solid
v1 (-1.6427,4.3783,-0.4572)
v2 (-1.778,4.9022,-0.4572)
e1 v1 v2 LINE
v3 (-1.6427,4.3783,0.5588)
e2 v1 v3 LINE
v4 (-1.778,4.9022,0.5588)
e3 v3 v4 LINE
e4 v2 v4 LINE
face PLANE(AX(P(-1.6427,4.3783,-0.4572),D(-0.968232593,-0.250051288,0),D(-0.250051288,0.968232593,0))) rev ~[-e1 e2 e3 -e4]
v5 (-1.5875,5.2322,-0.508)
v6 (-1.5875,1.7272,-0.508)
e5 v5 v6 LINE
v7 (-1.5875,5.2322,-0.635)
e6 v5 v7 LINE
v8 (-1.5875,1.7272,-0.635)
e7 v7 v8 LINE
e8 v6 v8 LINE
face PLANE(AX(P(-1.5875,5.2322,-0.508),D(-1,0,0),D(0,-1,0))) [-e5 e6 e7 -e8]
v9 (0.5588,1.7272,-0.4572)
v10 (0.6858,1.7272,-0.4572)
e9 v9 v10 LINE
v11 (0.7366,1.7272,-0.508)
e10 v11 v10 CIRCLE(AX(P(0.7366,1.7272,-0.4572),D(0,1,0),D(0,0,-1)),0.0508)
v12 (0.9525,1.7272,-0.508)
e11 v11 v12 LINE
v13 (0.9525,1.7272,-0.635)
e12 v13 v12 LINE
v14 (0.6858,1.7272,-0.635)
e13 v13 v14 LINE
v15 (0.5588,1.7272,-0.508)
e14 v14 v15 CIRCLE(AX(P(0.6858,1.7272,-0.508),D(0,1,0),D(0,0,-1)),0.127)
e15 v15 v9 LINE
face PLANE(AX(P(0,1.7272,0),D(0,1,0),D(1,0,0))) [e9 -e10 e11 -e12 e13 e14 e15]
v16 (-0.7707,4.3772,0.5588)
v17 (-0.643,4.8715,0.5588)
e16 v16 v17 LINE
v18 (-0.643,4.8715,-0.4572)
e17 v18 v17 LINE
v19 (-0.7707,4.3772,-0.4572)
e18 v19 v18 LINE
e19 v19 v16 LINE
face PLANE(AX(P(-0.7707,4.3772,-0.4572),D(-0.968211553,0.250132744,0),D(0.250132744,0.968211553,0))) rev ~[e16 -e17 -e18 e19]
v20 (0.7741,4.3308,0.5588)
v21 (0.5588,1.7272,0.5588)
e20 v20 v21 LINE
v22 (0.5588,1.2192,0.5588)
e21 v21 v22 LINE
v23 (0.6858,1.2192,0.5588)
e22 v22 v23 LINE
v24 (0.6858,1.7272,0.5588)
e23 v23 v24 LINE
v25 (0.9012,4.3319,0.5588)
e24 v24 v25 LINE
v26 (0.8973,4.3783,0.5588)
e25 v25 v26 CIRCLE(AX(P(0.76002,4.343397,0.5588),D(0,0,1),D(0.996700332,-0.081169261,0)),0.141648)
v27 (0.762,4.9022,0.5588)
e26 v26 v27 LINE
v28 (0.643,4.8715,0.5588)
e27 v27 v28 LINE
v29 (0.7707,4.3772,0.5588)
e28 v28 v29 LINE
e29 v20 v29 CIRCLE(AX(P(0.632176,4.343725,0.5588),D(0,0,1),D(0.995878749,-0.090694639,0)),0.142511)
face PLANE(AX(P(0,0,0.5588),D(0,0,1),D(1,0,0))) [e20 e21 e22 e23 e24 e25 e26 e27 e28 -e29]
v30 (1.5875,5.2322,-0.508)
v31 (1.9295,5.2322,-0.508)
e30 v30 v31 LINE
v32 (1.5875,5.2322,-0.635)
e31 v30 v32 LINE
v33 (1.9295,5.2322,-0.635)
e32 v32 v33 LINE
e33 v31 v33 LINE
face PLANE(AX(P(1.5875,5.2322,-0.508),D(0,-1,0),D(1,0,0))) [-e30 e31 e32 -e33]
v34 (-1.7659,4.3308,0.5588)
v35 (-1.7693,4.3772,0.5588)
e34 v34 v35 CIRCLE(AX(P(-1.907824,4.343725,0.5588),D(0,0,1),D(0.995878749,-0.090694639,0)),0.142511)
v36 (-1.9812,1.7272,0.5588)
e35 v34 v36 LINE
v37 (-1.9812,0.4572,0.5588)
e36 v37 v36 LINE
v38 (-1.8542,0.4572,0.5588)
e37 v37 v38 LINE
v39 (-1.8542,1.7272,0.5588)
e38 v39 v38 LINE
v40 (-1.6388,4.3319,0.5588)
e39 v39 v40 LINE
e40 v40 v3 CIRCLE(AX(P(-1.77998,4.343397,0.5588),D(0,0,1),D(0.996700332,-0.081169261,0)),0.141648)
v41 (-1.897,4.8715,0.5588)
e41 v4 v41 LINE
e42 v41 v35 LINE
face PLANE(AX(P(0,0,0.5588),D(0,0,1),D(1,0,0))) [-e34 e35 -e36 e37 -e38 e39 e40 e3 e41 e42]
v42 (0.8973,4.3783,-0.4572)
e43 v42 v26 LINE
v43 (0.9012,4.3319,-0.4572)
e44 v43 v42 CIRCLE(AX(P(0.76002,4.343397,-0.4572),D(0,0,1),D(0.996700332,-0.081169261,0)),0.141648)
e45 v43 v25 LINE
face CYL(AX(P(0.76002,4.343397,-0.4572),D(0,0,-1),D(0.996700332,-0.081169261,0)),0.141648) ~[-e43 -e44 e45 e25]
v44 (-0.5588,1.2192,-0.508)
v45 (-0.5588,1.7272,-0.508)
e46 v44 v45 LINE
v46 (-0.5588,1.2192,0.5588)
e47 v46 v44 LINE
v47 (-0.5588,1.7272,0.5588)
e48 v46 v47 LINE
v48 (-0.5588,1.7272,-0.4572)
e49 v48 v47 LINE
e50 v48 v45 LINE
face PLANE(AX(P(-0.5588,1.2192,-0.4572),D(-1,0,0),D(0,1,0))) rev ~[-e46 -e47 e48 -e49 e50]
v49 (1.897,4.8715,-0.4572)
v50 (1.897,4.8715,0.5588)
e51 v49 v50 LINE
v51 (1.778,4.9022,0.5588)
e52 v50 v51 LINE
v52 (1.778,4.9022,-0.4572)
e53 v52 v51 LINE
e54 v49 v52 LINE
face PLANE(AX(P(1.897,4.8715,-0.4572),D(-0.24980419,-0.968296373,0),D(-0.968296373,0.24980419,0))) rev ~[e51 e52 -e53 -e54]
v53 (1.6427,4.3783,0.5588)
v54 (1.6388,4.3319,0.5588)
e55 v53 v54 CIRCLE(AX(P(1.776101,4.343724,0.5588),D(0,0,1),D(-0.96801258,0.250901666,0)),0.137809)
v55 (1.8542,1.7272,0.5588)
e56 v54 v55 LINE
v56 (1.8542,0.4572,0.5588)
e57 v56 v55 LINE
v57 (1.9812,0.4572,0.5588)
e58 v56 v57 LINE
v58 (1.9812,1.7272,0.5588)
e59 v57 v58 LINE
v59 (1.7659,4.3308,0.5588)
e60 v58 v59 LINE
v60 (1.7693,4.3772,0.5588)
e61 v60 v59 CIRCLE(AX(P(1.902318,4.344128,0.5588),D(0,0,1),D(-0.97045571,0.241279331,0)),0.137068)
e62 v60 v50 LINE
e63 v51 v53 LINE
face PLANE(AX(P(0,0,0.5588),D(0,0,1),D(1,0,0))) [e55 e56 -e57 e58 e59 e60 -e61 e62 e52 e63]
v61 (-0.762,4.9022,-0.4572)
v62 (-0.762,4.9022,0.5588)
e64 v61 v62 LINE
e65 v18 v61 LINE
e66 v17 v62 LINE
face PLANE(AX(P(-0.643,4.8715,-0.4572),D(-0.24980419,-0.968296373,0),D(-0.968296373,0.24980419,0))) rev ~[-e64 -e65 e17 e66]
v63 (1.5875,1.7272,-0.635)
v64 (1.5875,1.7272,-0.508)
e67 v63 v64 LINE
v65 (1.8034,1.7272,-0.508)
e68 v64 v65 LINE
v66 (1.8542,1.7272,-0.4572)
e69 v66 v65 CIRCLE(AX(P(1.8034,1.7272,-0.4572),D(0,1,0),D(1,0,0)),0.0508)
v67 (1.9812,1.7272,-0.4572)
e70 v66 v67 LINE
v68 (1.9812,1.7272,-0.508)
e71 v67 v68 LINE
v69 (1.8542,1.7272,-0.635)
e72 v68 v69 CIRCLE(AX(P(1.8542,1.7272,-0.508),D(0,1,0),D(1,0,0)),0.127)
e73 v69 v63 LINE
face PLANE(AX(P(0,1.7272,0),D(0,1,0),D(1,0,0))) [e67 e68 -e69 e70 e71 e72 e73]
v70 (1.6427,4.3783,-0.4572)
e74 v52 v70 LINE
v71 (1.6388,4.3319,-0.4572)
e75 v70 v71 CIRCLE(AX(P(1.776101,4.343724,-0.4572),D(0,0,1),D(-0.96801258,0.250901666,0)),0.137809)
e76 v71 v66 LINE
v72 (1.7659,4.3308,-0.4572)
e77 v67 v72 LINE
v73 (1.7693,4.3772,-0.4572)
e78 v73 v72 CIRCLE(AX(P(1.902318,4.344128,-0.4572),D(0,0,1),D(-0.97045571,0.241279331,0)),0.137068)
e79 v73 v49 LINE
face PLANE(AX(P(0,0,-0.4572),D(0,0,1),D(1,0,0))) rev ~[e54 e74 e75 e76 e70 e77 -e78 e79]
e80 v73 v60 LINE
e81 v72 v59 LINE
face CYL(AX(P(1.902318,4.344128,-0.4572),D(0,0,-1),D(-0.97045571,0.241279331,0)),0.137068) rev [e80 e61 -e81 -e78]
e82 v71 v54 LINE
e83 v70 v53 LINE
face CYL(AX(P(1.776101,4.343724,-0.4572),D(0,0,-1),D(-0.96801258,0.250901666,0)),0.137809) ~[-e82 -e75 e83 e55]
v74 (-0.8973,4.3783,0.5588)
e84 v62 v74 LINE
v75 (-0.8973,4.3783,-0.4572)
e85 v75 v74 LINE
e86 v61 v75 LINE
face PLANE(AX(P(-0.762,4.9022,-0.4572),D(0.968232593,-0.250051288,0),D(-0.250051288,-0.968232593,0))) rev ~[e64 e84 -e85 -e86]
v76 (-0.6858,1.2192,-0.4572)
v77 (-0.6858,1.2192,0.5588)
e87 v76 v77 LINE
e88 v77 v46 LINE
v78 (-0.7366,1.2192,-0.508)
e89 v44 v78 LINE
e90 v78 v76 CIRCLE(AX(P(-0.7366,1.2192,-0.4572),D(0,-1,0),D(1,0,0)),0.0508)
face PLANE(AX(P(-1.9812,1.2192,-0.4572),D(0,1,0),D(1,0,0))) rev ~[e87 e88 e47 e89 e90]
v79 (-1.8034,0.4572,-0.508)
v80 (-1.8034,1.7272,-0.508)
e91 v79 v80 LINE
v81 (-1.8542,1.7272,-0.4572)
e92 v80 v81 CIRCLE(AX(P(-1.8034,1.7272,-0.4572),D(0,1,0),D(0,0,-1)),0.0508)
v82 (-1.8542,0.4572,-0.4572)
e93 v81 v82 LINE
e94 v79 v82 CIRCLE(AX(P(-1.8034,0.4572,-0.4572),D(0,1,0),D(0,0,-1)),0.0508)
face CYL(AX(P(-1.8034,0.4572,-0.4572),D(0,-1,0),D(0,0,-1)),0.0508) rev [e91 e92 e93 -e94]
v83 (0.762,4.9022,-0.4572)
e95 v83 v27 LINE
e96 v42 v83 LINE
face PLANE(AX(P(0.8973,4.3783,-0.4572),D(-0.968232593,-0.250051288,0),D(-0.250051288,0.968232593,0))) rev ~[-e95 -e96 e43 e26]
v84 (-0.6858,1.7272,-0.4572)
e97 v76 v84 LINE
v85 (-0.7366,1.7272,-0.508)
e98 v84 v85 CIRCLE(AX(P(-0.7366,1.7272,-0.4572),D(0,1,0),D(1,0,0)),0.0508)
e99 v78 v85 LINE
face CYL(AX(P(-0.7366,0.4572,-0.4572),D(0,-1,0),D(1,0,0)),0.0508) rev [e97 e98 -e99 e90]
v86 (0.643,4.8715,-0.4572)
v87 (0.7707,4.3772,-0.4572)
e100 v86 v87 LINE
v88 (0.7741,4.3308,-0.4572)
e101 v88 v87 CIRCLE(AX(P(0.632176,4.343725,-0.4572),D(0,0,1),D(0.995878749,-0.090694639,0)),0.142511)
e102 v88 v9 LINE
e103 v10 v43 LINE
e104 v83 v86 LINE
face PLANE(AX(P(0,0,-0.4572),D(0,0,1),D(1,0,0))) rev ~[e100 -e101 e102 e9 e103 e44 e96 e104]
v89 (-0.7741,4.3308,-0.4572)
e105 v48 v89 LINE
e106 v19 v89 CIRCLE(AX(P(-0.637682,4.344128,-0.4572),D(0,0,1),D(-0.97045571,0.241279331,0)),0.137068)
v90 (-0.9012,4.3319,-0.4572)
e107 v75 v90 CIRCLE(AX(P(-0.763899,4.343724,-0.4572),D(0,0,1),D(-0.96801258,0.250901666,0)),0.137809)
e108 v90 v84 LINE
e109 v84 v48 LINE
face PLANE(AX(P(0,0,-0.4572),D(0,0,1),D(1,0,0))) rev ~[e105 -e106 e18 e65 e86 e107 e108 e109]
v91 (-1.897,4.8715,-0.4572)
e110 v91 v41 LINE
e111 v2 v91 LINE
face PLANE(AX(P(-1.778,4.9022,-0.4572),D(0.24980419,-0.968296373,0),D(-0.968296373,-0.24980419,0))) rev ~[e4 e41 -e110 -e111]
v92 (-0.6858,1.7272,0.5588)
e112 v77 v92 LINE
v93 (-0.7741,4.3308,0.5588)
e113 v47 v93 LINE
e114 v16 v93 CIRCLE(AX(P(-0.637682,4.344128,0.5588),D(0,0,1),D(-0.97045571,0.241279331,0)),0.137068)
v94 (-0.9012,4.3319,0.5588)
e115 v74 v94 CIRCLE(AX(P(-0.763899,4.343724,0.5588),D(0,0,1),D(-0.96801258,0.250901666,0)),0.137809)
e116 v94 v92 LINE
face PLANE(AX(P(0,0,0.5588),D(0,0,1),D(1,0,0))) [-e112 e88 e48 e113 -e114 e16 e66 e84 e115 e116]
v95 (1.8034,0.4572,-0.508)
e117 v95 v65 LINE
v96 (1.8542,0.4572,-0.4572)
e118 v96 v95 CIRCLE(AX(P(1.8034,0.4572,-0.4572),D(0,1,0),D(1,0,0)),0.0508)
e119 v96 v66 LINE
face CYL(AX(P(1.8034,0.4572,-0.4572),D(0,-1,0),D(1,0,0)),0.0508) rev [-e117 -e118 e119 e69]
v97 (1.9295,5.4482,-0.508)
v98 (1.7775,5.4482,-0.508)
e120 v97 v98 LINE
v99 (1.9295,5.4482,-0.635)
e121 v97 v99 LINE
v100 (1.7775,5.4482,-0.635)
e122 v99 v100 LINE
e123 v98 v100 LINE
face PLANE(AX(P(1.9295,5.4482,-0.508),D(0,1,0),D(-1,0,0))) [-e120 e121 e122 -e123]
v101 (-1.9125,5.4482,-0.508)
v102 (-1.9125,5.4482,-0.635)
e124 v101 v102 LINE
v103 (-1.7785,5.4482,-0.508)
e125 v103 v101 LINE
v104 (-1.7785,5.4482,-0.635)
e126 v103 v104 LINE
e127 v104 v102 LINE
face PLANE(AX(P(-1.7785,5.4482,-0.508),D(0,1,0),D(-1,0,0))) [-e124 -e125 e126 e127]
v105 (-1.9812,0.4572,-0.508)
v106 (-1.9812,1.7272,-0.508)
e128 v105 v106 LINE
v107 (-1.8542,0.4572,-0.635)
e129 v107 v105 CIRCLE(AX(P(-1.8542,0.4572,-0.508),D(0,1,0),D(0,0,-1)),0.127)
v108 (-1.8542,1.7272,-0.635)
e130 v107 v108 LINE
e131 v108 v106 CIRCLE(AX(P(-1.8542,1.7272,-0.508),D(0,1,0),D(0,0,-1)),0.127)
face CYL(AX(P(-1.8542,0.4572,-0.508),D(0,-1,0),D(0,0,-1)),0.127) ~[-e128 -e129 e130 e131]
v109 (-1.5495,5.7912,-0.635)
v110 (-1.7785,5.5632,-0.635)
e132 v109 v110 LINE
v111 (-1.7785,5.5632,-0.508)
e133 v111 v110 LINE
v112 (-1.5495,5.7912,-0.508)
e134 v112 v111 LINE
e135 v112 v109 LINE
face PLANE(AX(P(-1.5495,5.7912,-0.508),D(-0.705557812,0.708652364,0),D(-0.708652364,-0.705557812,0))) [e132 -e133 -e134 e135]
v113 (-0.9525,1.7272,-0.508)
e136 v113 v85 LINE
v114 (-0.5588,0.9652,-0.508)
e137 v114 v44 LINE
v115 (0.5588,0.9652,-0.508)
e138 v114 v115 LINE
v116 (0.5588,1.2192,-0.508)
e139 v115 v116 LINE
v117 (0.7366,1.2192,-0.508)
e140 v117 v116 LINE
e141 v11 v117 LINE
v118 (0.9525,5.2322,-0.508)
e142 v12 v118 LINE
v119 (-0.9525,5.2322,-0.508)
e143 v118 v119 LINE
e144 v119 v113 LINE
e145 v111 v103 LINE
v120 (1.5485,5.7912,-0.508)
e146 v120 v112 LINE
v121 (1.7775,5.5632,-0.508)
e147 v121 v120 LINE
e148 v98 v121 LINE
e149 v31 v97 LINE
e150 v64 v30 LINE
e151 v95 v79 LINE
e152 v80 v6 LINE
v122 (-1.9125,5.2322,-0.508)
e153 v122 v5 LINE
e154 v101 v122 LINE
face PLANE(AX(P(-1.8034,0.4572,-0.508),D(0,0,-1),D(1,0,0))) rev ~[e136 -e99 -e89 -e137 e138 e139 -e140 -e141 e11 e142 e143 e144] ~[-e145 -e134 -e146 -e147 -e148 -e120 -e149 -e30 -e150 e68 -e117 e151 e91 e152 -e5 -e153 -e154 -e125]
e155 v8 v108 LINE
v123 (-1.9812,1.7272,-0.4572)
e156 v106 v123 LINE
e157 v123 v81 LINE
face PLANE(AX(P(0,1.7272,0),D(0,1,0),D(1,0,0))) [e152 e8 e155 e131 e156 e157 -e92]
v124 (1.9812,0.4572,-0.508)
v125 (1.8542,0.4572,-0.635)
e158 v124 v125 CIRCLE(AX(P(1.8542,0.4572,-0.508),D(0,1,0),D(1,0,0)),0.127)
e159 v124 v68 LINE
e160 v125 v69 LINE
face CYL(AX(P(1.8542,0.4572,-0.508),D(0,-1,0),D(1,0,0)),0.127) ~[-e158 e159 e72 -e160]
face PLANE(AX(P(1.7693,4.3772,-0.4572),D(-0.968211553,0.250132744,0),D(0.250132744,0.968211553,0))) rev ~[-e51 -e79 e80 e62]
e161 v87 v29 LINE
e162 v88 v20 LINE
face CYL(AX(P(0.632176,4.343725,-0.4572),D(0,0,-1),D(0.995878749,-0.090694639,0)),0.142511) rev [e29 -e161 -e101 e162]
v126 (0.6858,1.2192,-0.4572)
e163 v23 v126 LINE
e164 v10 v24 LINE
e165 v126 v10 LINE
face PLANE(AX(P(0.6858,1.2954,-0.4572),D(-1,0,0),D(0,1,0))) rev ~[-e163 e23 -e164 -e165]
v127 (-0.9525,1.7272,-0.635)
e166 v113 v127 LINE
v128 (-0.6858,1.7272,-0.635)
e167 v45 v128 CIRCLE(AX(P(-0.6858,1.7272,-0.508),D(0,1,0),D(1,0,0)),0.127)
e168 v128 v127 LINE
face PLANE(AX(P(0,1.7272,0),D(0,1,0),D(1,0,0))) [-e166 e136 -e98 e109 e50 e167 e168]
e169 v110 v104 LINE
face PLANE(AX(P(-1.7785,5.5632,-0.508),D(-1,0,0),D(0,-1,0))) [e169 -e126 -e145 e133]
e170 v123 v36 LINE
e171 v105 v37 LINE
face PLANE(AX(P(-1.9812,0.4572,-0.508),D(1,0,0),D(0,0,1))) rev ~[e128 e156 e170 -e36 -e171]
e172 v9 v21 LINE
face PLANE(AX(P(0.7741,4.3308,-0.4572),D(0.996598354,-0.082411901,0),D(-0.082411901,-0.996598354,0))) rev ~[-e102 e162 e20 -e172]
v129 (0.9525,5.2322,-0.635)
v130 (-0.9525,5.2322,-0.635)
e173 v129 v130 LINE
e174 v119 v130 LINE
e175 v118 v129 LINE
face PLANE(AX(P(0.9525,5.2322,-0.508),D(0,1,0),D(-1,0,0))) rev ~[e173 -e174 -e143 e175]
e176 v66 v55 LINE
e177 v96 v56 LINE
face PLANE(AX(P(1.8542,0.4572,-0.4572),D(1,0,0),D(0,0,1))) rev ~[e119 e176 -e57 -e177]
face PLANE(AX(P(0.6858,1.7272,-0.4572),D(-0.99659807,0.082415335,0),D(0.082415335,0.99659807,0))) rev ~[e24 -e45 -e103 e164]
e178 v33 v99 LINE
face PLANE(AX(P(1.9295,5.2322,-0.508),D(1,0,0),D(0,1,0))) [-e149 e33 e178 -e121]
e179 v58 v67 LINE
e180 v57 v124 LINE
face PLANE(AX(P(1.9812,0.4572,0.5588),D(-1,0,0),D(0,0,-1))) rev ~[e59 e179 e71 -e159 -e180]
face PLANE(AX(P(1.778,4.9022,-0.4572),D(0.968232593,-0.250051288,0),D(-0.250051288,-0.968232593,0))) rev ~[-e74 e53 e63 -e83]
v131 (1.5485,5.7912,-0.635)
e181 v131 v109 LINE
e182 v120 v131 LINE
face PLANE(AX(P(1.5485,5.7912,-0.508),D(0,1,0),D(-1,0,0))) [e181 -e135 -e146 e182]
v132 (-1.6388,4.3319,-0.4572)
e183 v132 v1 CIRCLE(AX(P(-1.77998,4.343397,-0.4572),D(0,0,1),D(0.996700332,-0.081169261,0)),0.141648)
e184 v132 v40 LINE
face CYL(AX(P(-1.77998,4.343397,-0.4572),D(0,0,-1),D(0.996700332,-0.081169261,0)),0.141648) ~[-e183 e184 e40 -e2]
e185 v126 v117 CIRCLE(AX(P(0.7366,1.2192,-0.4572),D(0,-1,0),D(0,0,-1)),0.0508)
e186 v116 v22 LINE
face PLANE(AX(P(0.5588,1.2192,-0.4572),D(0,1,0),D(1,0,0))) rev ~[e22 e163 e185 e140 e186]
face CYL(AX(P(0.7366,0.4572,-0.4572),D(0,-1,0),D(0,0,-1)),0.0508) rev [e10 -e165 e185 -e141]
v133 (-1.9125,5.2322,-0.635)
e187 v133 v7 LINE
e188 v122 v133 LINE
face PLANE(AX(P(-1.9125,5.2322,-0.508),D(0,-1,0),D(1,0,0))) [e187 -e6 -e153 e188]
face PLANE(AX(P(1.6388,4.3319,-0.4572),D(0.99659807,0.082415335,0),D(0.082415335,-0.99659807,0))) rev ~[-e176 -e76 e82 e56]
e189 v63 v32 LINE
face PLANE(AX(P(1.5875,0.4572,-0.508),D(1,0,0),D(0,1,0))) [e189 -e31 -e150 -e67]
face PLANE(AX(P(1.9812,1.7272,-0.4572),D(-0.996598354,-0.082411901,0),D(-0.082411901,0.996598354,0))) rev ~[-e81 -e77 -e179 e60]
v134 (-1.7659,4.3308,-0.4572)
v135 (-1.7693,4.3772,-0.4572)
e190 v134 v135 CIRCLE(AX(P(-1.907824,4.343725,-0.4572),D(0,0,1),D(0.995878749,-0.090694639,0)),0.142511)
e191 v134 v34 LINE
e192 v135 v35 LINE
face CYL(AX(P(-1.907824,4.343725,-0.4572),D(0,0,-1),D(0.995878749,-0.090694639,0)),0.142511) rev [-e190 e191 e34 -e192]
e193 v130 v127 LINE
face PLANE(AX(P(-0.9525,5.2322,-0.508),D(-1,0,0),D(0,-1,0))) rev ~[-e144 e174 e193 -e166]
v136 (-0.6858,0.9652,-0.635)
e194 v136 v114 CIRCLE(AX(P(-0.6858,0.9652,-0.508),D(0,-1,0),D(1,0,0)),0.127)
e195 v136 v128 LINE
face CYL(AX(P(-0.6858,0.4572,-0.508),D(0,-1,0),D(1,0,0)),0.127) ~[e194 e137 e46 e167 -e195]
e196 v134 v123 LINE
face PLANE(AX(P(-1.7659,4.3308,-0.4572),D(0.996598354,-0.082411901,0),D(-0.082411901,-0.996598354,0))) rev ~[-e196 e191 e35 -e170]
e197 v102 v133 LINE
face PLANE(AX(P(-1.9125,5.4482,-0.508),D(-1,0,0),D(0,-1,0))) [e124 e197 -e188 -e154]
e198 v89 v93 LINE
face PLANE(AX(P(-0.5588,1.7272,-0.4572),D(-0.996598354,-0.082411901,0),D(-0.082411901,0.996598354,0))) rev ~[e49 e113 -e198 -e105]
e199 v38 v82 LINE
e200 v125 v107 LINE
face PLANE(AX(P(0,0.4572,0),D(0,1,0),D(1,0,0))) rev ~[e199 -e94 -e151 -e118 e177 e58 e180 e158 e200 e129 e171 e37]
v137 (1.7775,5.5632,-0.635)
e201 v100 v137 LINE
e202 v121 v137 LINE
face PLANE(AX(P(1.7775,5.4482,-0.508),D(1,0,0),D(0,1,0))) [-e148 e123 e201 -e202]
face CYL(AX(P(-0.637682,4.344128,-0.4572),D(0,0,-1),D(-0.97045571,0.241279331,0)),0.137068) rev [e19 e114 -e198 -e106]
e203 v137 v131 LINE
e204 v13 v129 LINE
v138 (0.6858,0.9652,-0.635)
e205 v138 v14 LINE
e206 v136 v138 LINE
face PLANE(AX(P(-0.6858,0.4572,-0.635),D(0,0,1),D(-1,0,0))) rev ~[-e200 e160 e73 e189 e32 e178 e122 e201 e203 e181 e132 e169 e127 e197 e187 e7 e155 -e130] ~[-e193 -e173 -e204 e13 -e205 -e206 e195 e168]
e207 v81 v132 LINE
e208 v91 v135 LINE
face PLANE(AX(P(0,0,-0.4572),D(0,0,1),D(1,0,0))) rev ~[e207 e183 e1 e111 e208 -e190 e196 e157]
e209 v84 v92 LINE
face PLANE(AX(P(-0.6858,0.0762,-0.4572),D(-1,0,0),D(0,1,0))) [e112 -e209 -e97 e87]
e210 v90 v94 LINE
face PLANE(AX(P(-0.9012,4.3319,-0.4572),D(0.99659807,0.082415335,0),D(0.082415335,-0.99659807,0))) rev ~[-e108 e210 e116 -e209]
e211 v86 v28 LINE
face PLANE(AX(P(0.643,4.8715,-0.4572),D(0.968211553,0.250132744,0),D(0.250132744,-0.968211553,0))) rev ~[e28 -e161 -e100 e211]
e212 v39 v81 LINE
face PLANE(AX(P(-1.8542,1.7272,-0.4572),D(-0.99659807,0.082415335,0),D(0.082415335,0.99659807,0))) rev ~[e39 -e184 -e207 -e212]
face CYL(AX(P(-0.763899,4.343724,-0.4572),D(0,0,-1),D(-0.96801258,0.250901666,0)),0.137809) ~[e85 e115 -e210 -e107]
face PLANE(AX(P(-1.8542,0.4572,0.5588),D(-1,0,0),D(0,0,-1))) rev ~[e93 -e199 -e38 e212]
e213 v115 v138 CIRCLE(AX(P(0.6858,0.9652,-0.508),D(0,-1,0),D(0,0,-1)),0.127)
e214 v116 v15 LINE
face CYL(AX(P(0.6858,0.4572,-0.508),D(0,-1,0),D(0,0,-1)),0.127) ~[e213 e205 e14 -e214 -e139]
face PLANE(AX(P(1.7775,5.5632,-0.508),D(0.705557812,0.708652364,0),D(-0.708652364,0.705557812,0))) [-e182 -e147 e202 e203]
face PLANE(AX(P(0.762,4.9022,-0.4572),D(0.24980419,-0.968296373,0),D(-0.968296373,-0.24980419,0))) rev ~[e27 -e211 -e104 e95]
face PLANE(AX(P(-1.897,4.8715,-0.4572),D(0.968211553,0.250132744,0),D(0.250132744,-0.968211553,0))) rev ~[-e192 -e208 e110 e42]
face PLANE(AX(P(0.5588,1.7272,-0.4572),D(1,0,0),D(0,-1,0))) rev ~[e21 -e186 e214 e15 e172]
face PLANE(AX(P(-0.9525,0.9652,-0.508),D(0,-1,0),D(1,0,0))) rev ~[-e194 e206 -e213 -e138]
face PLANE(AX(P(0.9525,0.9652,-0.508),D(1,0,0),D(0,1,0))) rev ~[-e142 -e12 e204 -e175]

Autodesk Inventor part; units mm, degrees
sketch "Sketch__1" plane through (0, 0, -0.508) normal (0, 0, 1) x (1, 0, 0)
  line L0 (-1.9125, 5.4482) -> (-1.9125, 5.2322)
  line L1 (-1.9125, 5.2322) -> (-1.5875, 5.2322)
  line L2 (-1.5875, 5.2322) -> (-1.5875, 0.4572)
  line L3 (-1.5875, 0.4572) -> (1.5875, 0.4572)
  line L4 (1.5875, 0.4572) -> (1.5875, 5.2322)
  line L5 (1.5875, 5.2322) -> (1.9295, 5.2322)
  line L6 (1.9295, 5.2322) -> (1.9295, 5.4482)
  line L7 (1.9295, 5.4482) -> (1.7775, 5.4482)
  line L8 (1.7775, 5.4482) -> (1.7775, 5.5632)
  line L9 (1.7775, 5.5632) -> (1.5485, 5.7912)
  line L10 (1.5485, 5.7912) -> (-1.5495, 5.7912)
  line L11 (-1.5495, 5.7912) -> (-1.7785, 5.5632)
  line L12 (-1.7785, 5.5632) -> (-1.7785, 5.4482)
  line L13 (-1.7785, 5.4482) -> (-1.9125, 5.4482)
  line L14 (-0.9525, 0.9652) -> (0.9525, 0.9652)
  line L15 (0.9525, 0.9652) -> (0.9525, 5.2322)
  line L16 (0.9525, 5.2322) -> (-0.9525, 5.2322)
  line L17 (-0.9525, 5.2322) -> (-0.9525, 0.9652)
extrude "Extrusion1" add sketch "Sketch__1" against normal blind 0.127
sketch "Sketch_1" plane through (0, 0.4572, 0) normal (0, 1, 0) x (1, 0, 0)
  line L0 (0.5588, 0.508) -> (0.5588, 0.4572)
  line L1 (0.5588, 0.4572) -> (0.6858, 0.4572)
  arc A0 (0.7366, 0.508) -> (0.6858, 0.4572) centre (0.7366, 0.4572) ccw
  line L2 (0.7366, 0.508) -> (1.8034, 0.508)
  arc A1 (1.8542, 0.4572) -> (1.8034, 0.508) centre (1.8034, 0.4572) ccw
  line L3 (1.8542, 0.4572) -> (1.8542, -0.5588)
  line L4 (1.8542, -0.5588) -> (1.9812, -0.5588)
  line L5 (1.9812, -0.5588) -> (1.9812, 0.508)
  arc A2 (1.9812, 0.508) -> (1.8542, 0.635) centre (1.8542, 0.508) ccw
  line L6 (1.8542, 0.635) -> (0.6858, 0.635)
  arc A3 (0.6858, 0.635) -> (0.5588, 0.508) centre (0.6858, 0.508) ccw
extrude "Extrusion2" add sketch "Sketch_1" along normal blind 1.27
sketch "Sketch_2" plane through (0, 0.4572, 0) normal (0, 1, 0) x (1, 0, 0)
  line L0 (-1.9812, 0.508) -> (-1.9812, -0.5588)
  line L1 (-1.9812, -0.5588) -> (-1.8542, -0.5588)
  line L2 (-1.8542, -0.5588) -> (-1.8542, 0.4572)
  arc A0 (-1.8034, 0.508) -> (-1.8542, 0.4572) centre (-1.8034, 0.4572) ccw
  line L3 (-1.8034, 0.508) -> (-0.7366, 0.508)
  arc A1 (-0.6858, 0.4572) -> (-0.7366, 0.508) centre (-0.7366, 0.4572) ccw
  line L4 (-0.6858, 0.4572) -> (-0.5588, 0.4572)
  line L5 (-0.5588, 0.4572) -> (-0.5588, 0.508)
  arc A2 (-0.5588, 0.508) -> (-0.6858, 0.635) centre (-0.6858, 0.508) ccw
  line L6 (-0.6858, 0.635) -> (-1.8542, 0.635)
  arc A3 (-1.8542, 0.635) -> (-1.9812, 0.508) centre (-1.8542, 0.508) ccw
extrude "Extrusion3" add sketch "Sketch_2" along normal blind 1.27
sketch "Sketch_3" plane through (0, 0.4572, 0) normal (0, 1, 0) x (1, 0, 0)
  line L0 (-0.8128, 0.508) -> (-0.8128, -0.508)
  line L1 (-0.8128, -0.508) -> (0.8128, -0.508)
  line L2 (0.8128, -0.508) -> (0.8128, 0.508)
  line L3 (0.8128, 0.508) -> (-0.8128, 0.508)
extrude "Extrusion4" cut sketch "Sketch_3" along normal blind 0.762
sketch "Sketch_4" plane through (0, 0, -0.4572) normal (0, 0, 1) x (1, 0, 0)
  line L0 (-1.9812, 1.7272) -> (-1.9812, 1.2192)
  line L1 (-1.9812, 1.2192) -> (-0.5588, 1.2192)
  line L2 (-0.5588, 1.2192) -> (-0.5588, 1.7272)
  line L3 (-0.5588, 1.7272) -> (-0.7741, 4.3308)
  arc A0 (-0.7707, 4.3772) -> (-0.7741, 4.3308) centre (-0.635, 4.3437) ccw
  line L4 (-0.7707, 4.3772) -> (-0.643, 4.8715)
  line L5 (-0.643, 4.8715) -> (-0.762, 4.9022)
  line L6 (-0.762, 4.9022) -> (-0.8973, 4.3783)
  arc A1 (-0.8973, 4.3783) -> (-0.9012, 4.3319) centre (-0.762, 4.3434) ccw
  line L7 (-0.9012, 4.3319) -> (-0.6858, 1.7272)
  line L8 (-0.6858, 1.7272) -> (-0.6858, 1.2954)
  line L9 (-0.6858, 1.2954) -> (-1.8542, 1.2954)
  line L10 (-1.8542, 1.2954) -> (-1.8542, 1.7272)
  line L11 (-1.8542, 1.7272) -> (-1.6388, 4.3319)
  arc A2 (-1.6388, 4.3319) -> (-1.6427, 4.3783) centre (-1.778, 4.3434) ccw
  line L12 (-1.6427, 4.3783) -> (-1.778, 4.9022)
  line L13 (-1.778, 4.9022) -> (-1.897, 4.8715)
  line L14 (-1.897, 4.8715) -> (-1.7693, 4.3772)
  arc A3 (-1.7659, 4.3308) -> (-1.7693, 4.3772) centre (-1.905, 4.3437) ccw
  line L15 (-1.7659, 4.3308) -> (-1.9812, 1.7272)
extrude "Extrusion5" add sketch "Sketch_4" along normal blind 1.016
sketch "Sketch_5" plane through (0, 0, -0.4572) normal (0, 0, 1) x (1, 0, 0)
  line L0 (0.5588, 1.7272) -> (0.5588, 1.2192)
  line L1 (0.5588, 1.2192) -> (1.9812, 1.2192)
  line L2 (1.9812, 1.2192) -> (1.9812, 1.7272)
  line L3 (1.9812, 1.7272) -> (1.7659, 4.3308)
  arc A0 (1.7693, 4.3772) -> (1.7659, 4.3308) centre (1.905, 4.3437) ccw
  line L4 (1.7693, 4.3772) -> (1.897, 4.8715)
  line L5 (1.897, 4.8715) -> (1.778, 4.9022)
  line L6 (1.778, 4.9022) -> (1.6427, 4.3783)
  arc A1 (1.6427, 4.3783) -> (1.6388, 4.3319) centre (1.778, 4.3434) ccw
  line L7 (1.6388, 4.3319) -> (1.8542, 1.7272)
  line L8 (1.8542, 1.7272) -> (1.8542, 1.2954)
  line L9 (1.8542, 1.2954) -> (0.6858, 1.2954)
  line L10 (0.6858, 1.2954) -> (0.6858, 1.7272)
  line L11 (0.6858, 1.7272) -> (0.9012, 4.3319)
  arc A2 (0.9012, 4.3319) -> (0.8973, 4.3783) centre (0.762, 4.3434) ccw
  line L12 (0.8973, 4.3783) -> (0.762, 4.9022)
  line L13 (0.762, 4.9022) -> (0.643, 4.8715)
  line L14 (0.643, 4.8715) -> (0.7707, 4.3772)
  arc A3 (0.7741, 4.3308) -> (0.7707, 4.3772) centre (0.635, 4.3437) ccw
  line L15 (0.7741, 4.3308) -> (0.5588, 1.7272)
extrude "Extrusion6" add sketch "Sketch_5" along normal blind 1.016
sketch "Sketch_6" plane through (0, 0, -0.4572) normal (0, 0, 1) x (1, 0, 0)
  line L0 (-1.8542, 1.397) -> (-1.8542, 0)
  line L1 (-1.8542, 0) -> (1.8542, 0)
  line L2 (1.8542, 0) -> (1.8542, 1.397)
  line L3 (1.8542, 1.397) -> (0.6858, 1.397)
  line L4 (0.6858, 1.397) -> (0.6858, 0.0762)
  line L5 (0.6858, 0.0762) -> (-0.6858, 0.0762)
  line L6 (-0.6858, 0.0762) -> (-0.6858, 1.397)
  line L7 (-0.6858, 1.397) -> (-1.8542, 1.397)
extrude "Extrusion7" cut sketch "Sketch_6" along normal blind 1.27
ref_plane "pins_to_body_XY" through (0, 0, -0.0381) normal (0, 1, 0) x (1, 0, 0)
ref_plane "pins_to_body_YZ" through (0, 0, -0.0381) normal (1, 0, 0) x (0, 0, -1)
ref_plane "pins_to_body_ZX" through (0, 0, -0.0381) normal (0, 0, -1) x (0, 1, 0)
properties part number "SNT-100_pins"
